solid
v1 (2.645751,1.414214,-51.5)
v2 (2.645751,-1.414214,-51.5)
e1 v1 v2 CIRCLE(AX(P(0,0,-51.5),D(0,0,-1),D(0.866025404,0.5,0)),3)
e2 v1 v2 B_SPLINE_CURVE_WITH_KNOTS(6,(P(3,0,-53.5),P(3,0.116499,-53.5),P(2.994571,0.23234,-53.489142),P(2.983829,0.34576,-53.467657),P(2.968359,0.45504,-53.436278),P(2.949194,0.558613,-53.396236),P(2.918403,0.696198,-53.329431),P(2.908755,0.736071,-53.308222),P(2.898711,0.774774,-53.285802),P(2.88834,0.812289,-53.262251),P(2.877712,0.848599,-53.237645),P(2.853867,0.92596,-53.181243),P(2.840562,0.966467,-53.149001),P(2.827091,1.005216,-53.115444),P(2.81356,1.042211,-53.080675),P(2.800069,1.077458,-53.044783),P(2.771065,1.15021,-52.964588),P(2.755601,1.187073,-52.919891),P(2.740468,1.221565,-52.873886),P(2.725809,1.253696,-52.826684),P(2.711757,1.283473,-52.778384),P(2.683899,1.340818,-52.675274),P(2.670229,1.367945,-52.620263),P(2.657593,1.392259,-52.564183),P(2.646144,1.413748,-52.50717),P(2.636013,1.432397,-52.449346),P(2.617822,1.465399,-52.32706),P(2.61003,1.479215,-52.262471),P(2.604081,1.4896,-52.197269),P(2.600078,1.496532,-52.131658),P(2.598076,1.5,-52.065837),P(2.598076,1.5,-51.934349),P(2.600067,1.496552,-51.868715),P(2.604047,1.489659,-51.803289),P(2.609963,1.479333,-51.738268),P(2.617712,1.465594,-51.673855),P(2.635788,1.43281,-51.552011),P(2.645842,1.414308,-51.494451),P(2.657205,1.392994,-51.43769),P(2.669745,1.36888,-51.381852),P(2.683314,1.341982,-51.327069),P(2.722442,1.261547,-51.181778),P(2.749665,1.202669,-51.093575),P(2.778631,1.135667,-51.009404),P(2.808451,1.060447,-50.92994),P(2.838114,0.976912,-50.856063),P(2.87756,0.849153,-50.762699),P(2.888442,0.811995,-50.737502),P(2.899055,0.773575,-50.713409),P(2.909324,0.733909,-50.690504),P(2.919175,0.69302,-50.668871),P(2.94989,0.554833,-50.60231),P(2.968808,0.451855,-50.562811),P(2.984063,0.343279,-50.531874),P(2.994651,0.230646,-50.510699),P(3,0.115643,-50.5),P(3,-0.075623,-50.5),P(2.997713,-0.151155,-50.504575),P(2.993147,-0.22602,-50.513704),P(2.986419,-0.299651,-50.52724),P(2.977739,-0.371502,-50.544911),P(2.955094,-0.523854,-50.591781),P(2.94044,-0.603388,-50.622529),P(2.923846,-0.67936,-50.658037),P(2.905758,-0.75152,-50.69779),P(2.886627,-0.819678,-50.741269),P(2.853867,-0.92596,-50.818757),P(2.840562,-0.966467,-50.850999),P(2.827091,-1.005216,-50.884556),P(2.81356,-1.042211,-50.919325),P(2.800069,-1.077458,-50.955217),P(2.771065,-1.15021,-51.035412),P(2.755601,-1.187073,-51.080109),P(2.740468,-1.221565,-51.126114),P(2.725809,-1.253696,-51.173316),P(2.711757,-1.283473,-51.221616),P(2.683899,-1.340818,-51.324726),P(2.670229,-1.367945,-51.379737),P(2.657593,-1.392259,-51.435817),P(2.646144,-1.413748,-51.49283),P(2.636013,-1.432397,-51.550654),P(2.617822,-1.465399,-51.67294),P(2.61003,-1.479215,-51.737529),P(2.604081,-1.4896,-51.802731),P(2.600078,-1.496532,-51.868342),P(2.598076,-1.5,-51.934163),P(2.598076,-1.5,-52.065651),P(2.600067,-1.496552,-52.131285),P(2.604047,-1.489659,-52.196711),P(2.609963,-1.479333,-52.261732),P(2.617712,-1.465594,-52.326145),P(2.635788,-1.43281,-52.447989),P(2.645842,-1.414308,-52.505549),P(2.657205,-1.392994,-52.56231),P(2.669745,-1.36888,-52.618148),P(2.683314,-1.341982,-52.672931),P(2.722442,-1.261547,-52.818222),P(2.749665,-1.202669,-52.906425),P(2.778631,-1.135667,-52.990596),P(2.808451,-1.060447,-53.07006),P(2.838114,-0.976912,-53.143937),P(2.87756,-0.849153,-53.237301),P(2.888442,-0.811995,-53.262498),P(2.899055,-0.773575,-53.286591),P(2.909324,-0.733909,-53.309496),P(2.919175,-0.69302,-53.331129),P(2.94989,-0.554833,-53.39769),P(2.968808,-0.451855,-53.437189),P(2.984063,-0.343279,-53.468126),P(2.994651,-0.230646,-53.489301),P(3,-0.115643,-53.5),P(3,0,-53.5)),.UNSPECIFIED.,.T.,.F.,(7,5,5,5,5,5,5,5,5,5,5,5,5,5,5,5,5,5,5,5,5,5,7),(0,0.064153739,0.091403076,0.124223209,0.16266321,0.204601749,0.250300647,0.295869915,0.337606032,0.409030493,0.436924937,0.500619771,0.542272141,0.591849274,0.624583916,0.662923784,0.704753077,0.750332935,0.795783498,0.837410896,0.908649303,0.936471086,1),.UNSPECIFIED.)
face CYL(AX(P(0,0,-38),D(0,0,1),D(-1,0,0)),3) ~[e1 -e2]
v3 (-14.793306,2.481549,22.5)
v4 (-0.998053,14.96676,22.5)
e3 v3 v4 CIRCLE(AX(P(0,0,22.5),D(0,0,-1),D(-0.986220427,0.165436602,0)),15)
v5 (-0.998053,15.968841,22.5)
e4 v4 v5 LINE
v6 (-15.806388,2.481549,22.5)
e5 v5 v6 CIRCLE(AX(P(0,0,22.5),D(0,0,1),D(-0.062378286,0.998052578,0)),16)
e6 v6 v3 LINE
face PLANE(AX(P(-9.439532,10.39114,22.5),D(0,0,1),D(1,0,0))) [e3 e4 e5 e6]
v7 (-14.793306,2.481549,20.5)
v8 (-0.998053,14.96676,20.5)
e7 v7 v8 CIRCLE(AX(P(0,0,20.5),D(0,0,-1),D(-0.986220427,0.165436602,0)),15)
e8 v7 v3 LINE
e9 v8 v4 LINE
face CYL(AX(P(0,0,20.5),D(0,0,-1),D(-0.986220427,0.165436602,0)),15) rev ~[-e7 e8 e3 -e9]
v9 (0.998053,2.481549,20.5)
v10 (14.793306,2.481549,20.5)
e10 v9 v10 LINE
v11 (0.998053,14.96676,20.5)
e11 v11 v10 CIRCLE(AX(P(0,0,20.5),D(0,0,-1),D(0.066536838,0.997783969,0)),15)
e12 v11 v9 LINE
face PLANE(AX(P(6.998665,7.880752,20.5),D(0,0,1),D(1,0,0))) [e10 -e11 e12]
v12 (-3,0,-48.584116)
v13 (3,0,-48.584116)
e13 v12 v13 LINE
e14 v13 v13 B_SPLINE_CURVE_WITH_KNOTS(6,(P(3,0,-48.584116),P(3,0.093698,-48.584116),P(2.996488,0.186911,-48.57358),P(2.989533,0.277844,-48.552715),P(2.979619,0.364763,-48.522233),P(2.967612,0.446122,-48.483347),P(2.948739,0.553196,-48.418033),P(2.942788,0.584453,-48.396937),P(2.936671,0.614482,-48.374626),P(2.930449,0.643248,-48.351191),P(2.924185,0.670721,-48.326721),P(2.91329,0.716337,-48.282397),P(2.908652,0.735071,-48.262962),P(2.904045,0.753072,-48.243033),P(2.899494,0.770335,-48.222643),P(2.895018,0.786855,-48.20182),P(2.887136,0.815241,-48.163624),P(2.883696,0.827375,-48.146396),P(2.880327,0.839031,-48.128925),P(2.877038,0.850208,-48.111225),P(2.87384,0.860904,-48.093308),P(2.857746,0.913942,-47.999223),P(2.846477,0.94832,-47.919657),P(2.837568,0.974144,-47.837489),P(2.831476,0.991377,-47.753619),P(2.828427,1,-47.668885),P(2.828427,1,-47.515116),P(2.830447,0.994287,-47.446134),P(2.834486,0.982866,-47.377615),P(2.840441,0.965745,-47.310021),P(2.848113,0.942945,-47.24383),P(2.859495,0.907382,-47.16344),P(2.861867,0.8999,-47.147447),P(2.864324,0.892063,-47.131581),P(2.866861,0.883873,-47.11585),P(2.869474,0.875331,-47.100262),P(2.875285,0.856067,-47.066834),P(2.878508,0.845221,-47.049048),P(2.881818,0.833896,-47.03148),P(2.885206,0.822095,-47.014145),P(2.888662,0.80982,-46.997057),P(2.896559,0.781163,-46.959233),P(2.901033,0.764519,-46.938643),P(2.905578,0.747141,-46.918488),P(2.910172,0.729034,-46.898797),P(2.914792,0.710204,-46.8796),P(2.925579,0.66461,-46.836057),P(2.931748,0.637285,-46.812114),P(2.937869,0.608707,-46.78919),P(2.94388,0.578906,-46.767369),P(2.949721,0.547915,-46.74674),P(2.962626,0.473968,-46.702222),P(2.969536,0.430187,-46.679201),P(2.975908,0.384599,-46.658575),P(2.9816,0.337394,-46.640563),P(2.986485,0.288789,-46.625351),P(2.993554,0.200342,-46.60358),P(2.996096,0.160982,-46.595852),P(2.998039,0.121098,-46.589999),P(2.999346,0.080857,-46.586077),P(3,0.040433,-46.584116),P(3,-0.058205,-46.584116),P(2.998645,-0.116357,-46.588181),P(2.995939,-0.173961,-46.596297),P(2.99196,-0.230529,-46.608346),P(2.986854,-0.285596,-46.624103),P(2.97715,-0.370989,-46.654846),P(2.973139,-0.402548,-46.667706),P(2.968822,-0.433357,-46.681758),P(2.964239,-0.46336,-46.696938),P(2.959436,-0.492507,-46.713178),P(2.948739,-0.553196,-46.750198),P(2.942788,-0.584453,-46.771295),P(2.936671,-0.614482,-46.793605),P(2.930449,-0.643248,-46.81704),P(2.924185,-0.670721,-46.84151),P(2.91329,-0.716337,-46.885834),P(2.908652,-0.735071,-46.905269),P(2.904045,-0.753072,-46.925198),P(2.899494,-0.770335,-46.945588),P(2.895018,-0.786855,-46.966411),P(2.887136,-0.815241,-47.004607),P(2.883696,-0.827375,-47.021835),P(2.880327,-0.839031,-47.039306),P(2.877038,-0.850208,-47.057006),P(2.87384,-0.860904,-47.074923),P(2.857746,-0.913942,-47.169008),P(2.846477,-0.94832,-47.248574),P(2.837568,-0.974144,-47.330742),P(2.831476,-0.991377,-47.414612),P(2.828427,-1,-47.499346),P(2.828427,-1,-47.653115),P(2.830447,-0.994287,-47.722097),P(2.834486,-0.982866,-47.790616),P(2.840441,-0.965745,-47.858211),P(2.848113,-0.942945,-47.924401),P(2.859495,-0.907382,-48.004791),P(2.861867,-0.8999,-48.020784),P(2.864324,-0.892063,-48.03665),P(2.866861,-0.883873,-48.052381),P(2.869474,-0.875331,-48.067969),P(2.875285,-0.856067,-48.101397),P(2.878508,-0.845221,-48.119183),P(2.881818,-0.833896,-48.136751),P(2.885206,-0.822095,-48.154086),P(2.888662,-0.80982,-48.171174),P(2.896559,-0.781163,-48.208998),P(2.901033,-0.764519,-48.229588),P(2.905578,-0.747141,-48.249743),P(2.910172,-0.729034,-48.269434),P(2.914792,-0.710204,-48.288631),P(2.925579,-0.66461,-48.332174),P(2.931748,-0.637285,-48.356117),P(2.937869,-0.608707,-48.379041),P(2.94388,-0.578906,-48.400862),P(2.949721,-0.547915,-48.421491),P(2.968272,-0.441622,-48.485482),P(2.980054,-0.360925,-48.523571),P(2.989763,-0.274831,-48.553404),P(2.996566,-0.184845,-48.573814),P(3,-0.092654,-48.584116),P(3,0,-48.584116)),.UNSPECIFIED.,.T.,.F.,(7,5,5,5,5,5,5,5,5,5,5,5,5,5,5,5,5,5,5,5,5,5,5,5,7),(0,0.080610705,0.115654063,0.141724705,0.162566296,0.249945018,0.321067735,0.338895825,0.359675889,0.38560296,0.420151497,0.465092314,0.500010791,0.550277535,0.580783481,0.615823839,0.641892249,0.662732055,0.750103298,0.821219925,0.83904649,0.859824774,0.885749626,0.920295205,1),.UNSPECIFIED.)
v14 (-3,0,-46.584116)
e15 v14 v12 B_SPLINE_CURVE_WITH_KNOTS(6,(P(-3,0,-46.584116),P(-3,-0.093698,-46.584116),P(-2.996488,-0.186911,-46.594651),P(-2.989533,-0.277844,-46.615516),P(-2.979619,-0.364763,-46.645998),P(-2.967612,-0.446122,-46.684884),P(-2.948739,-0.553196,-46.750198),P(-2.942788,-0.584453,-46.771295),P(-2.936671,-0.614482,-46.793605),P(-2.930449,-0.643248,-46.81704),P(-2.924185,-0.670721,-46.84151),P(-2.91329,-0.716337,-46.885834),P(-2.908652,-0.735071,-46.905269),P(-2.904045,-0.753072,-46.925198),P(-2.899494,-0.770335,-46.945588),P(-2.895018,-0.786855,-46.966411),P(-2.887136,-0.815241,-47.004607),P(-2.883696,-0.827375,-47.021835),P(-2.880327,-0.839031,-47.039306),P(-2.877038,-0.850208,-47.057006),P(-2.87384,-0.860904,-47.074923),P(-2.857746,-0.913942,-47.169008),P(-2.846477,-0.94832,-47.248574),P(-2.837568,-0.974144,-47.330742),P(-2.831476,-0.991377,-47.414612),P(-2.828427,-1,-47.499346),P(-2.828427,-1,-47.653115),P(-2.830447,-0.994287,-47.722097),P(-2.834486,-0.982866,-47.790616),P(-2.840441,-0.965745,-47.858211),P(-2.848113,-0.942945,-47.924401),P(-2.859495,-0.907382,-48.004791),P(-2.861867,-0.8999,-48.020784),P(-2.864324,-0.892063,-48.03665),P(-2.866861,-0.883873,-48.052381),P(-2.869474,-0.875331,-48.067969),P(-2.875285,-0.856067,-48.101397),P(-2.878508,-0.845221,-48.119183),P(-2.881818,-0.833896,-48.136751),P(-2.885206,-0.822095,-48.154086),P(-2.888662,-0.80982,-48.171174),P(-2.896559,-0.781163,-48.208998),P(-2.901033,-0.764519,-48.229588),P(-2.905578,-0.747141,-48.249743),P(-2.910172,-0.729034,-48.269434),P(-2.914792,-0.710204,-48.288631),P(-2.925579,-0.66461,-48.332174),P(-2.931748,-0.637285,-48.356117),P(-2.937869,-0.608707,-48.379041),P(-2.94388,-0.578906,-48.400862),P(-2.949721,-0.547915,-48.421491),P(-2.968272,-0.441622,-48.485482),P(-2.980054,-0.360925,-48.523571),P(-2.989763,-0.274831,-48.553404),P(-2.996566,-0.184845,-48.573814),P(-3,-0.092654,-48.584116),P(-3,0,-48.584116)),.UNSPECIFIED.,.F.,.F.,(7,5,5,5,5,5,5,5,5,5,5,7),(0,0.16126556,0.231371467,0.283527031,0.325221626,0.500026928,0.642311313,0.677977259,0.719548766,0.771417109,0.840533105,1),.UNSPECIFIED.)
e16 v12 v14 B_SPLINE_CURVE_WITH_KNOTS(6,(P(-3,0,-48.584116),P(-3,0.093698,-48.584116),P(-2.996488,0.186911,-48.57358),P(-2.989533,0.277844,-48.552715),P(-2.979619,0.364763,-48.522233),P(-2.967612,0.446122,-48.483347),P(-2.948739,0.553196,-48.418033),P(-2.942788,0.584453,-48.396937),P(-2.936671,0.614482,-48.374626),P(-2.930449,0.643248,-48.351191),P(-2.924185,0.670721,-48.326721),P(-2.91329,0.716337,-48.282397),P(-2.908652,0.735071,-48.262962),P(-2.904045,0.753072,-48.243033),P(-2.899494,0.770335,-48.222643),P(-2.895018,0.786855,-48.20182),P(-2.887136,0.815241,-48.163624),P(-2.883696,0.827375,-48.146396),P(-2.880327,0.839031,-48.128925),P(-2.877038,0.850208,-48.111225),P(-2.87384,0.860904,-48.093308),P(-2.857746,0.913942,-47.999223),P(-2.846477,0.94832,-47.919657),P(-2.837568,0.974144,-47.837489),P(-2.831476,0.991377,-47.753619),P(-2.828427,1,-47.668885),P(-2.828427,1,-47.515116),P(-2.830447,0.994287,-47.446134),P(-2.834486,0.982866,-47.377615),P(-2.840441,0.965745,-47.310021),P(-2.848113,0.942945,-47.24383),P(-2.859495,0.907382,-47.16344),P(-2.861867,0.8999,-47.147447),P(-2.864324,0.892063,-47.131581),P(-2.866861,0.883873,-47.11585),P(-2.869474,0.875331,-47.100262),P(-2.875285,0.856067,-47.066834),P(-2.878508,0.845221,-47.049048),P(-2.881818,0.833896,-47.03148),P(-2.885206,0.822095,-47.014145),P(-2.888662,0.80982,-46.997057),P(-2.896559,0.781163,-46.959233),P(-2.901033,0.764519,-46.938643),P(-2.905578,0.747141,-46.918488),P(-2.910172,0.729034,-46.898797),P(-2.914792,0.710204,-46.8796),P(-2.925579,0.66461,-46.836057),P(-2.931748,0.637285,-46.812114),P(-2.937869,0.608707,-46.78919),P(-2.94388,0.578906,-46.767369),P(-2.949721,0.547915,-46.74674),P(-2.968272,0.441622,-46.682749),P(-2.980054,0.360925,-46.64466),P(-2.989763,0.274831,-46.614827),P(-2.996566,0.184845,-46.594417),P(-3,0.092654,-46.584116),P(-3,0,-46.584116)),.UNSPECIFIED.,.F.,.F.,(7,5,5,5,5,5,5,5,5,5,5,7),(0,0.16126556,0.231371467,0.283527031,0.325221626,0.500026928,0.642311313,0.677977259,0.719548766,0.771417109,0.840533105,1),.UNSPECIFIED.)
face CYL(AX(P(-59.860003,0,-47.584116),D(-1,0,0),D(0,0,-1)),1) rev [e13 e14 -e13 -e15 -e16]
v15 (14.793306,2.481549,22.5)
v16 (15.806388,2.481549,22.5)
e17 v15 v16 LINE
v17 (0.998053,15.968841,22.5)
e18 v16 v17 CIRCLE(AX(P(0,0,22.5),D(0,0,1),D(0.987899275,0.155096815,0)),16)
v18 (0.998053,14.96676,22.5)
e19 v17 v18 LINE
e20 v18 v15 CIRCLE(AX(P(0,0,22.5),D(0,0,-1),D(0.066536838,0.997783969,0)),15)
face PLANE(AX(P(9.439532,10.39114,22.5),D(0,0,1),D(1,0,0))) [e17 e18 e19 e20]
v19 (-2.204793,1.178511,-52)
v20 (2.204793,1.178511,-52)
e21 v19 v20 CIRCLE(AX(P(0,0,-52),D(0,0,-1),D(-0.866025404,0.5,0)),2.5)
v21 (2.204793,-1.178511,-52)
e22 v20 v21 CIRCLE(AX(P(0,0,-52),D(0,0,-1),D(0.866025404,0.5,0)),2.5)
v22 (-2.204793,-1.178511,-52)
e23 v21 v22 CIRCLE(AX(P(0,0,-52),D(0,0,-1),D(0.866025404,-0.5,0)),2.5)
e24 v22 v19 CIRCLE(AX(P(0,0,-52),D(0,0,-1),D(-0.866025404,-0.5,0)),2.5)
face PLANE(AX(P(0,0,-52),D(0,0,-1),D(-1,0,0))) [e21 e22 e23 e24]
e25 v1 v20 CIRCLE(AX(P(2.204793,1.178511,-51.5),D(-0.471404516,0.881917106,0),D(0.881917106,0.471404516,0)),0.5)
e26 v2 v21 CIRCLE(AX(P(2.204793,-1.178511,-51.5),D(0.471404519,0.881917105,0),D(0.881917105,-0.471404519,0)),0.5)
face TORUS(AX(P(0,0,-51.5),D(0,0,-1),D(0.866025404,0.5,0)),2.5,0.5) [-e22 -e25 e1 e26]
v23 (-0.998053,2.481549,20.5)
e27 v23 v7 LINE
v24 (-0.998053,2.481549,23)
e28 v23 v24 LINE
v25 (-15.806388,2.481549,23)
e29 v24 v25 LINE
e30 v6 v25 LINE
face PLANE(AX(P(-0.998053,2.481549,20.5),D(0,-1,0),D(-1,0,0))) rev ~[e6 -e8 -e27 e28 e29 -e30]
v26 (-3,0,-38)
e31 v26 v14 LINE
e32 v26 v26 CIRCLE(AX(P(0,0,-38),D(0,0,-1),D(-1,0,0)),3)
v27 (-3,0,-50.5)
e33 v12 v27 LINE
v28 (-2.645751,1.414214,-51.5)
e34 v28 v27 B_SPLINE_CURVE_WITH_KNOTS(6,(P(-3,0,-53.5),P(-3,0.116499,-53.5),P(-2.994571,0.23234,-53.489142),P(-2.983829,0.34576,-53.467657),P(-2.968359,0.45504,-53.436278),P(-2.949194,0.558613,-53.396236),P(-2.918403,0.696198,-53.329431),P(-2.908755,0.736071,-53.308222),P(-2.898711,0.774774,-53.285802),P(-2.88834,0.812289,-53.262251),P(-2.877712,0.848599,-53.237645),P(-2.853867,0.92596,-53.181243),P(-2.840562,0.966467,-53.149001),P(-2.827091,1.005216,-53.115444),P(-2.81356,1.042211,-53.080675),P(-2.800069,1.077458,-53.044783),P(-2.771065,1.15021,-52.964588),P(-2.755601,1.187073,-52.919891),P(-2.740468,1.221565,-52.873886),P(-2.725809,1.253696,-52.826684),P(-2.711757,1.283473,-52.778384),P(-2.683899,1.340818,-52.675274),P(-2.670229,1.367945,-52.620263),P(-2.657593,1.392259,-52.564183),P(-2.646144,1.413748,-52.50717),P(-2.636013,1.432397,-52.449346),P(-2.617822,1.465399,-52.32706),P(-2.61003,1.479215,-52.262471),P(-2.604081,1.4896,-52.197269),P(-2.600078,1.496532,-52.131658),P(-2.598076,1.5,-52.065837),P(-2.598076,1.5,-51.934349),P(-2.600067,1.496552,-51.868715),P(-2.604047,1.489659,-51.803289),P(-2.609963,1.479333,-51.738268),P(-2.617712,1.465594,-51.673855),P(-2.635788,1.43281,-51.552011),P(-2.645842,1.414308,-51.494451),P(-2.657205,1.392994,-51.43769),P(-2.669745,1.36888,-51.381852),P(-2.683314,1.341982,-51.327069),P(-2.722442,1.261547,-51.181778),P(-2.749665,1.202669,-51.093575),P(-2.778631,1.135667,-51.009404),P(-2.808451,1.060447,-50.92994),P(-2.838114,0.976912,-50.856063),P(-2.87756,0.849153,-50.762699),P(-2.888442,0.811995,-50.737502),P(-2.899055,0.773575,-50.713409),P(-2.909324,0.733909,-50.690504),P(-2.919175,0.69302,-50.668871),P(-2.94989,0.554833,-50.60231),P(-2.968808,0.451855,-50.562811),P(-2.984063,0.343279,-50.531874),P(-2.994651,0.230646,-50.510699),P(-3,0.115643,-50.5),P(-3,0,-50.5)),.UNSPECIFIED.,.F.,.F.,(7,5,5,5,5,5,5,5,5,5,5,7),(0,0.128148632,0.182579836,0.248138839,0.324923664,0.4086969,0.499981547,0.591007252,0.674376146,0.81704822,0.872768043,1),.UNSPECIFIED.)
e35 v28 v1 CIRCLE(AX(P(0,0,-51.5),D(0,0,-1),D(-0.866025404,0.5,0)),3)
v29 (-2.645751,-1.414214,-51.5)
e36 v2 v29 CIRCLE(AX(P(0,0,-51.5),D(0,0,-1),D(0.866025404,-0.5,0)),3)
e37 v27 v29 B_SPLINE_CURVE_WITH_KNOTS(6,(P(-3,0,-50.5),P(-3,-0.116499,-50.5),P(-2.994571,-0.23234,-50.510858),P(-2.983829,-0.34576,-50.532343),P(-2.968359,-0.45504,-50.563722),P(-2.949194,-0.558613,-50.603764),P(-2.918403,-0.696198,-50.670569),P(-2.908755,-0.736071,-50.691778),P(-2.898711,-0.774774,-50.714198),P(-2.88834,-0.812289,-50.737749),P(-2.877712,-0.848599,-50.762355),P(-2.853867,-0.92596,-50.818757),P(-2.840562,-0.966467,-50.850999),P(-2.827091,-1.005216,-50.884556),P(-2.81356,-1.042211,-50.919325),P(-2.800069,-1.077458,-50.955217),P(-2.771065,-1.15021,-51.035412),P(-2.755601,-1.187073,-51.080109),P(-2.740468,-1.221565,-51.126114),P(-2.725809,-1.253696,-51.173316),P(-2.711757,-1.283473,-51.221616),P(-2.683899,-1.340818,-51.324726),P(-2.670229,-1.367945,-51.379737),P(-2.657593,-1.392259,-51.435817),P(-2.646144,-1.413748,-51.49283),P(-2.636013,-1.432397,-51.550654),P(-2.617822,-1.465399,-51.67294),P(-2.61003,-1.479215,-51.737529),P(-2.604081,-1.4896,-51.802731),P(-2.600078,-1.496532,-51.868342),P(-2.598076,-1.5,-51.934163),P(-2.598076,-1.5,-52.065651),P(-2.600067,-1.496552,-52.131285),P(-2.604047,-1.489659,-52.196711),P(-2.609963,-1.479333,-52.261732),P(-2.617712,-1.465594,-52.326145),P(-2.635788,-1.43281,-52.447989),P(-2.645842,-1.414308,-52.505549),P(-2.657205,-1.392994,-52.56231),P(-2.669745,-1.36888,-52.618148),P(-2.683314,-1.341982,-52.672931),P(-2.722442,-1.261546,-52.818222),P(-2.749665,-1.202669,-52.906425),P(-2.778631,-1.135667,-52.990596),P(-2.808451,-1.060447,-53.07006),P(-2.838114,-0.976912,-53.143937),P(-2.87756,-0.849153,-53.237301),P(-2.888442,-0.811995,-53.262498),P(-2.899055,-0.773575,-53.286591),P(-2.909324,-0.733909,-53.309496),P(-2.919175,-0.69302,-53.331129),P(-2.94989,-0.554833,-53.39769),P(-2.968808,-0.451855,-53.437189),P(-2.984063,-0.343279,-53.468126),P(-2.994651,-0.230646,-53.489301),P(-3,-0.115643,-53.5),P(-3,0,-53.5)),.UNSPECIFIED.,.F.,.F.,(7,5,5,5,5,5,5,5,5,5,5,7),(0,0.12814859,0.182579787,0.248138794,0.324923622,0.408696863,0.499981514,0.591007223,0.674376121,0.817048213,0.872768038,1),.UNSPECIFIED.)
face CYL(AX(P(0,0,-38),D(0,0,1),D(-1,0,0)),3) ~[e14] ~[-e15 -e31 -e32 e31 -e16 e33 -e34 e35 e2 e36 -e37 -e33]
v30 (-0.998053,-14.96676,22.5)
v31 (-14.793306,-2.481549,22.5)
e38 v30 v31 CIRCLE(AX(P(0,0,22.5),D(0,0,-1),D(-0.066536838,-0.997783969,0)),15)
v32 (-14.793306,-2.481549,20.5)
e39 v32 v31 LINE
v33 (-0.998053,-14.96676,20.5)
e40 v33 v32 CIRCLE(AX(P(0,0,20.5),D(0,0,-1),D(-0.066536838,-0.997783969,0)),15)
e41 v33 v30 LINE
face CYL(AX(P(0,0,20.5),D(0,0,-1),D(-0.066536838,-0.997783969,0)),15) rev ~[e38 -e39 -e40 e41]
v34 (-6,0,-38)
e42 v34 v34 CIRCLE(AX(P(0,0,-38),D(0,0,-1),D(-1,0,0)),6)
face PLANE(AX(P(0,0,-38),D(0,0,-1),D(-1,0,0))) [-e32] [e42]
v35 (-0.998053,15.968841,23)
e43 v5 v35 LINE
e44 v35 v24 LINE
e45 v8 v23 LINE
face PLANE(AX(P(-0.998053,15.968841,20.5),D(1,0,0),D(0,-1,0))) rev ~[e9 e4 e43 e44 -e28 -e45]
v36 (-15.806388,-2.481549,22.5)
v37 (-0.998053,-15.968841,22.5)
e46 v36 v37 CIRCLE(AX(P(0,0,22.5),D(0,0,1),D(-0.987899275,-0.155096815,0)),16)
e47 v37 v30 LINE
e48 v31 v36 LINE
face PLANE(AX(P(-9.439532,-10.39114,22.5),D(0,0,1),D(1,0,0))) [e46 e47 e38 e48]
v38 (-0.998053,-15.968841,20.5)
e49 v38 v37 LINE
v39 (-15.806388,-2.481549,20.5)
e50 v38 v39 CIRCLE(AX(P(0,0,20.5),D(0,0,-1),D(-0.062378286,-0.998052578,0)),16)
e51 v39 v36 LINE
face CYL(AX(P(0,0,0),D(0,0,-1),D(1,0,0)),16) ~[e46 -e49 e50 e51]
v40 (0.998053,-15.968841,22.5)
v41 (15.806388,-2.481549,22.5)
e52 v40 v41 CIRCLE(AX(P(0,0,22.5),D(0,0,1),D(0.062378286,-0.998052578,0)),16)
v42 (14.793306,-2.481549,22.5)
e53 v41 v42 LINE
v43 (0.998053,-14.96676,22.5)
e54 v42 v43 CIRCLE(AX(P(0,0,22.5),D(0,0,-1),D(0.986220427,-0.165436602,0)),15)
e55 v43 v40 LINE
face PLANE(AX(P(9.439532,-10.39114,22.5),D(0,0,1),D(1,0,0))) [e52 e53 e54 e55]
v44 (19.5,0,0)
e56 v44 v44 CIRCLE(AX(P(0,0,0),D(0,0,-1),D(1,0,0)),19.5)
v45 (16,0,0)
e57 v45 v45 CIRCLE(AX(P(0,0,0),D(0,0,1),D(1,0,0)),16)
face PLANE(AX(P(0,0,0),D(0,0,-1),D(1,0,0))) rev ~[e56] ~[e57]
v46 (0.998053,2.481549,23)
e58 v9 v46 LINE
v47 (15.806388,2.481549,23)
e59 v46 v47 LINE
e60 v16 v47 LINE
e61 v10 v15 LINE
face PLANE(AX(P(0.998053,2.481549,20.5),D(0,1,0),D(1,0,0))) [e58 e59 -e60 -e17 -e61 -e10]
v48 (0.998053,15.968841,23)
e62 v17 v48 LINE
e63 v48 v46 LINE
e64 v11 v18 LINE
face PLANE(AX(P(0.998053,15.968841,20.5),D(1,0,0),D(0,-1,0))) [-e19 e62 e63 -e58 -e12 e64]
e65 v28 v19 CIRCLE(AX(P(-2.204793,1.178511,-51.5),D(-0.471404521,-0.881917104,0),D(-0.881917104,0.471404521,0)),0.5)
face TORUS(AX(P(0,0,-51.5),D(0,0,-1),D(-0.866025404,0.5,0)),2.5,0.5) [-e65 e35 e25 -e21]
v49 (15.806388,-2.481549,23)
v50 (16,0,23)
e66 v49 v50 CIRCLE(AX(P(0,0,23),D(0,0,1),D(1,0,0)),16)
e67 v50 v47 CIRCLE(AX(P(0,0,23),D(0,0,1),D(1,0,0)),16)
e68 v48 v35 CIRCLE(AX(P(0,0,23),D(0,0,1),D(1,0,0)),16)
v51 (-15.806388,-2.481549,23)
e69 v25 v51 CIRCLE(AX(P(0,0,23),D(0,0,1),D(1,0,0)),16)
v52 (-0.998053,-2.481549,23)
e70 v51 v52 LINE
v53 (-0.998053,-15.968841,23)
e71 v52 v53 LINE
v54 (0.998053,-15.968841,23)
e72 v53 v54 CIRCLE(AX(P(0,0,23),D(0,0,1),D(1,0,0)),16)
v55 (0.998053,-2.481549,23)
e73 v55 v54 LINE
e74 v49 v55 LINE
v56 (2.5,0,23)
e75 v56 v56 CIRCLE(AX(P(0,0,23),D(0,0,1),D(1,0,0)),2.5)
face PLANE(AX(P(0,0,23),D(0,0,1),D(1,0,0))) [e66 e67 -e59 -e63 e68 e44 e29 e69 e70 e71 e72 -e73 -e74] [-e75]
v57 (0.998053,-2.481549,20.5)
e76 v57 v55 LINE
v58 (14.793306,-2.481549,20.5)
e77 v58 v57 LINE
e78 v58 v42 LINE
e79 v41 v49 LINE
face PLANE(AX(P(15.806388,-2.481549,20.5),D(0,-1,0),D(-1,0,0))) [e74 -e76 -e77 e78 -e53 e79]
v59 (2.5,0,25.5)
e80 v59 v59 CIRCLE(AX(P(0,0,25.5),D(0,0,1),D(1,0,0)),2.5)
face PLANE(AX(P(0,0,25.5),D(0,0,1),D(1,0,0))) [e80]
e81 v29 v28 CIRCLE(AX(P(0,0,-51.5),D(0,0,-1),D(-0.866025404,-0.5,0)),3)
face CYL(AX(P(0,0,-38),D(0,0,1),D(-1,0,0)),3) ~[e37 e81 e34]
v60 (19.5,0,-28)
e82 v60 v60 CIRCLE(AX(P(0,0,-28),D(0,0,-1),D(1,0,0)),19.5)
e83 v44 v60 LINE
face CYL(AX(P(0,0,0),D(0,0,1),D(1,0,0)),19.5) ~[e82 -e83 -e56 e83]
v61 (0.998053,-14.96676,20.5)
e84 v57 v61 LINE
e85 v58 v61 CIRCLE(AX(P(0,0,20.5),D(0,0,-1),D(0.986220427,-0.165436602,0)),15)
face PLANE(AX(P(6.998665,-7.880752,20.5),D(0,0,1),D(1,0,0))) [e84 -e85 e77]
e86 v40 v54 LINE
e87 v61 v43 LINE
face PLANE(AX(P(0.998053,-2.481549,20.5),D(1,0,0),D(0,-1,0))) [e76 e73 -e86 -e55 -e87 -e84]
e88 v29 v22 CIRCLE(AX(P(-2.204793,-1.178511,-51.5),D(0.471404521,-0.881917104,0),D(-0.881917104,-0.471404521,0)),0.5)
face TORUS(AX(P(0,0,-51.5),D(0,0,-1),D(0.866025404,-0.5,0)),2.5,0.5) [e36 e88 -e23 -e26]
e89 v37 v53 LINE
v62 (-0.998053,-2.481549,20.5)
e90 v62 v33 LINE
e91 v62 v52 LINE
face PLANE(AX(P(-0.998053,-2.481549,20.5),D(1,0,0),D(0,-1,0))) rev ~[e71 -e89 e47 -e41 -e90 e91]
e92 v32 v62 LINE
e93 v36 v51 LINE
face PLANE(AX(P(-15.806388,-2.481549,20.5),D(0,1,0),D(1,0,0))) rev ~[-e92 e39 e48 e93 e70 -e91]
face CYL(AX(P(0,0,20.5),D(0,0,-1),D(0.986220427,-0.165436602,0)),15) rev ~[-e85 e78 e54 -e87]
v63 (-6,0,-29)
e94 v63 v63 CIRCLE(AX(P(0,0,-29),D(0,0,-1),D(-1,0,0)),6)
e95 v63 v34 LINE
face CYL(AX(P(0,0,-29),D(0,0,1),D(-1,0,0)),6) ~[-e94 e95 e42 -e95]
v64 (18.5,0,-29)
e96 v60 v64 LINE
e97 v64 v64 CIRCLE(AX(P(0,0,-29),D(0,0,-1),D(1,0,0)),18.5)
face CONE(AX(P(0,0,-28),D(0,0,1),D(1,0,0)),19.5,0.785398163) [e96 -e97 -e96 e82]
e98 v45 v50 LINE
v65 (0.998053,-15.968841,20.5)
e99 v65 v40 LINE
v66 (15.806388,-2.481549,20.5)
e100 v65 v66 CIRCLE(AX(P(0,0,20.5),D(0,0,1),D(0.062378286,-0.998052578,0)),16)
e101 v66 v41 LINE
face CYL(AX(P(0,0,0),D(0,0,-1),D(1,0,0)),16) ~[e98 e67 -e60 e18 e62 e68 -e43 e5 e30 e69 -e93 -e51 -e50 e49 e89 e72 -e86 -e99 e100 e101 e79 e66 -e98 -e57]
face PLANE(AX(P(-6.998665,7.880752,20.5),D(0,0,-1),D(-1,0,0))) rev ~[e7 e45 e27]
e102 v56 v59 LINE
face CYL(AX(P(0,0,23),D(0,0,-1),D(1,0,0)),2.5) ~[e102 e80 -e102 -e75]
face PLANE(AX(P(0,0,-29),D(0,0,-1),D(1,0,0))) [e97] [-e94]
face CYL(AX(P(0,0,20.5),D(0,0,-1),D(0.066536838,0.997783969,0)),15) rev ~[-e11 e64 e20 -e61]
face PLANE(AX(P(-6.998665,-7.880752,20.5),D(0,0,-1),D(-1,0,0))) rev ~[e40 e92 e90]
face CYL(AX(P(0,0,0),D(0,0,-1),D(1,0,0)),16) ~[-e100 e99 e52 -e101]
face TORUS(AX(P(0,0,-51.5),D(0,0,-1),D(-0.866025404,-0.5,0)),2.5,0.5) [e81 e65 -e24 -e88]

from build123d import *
from build123d.topology import SkipClean

# Parameters (mm, degrees)
SKETCH1_R               = 16
BOSS_EXTRUDE1_DEPTH     = 23
SKETCH2_R               = 19.5
BOSS_EXTRUDE2_DEPTH     = 29
SKETCH3_R               = 6
BOSS_EXTRUDE4_DEPTH     = 9
SKETCH4_R               = 3
BOSS_EXTRUDE5_DEPTH     = 22
CUT_EXTRUDE2_DEPTH      = 22
CUT_EXTRUDE2_DEPTH_BACK = 22
SKETCH5_R               = 1.5
CUT_EXTRUDE4_START      = -2.5
CUT_EXTRUDE4_DEPTH      = 2.5
SKETCH7_R               = 2.5
BOSS_EXTRUDE6_DEPTH     = 2.5
BOSS_EXTRUDE7_DEPTH     = 2
CHAMFER1_SIZE           = 1
FILLET1_R               = 1
BOSS_EXTRUDE8_START     = -22
SKETCH9_R               = 3
BOSS_EXTRUDE8_DEPTH     = 22
CUT_EXTRUDE6_START      = -8
SKETCH10_R              = 3
CUT_EXTRUDE6_DEPTH      = 8
FILLET2_R               = 0.5
CUT_EXTRUDE7_DEPTH      = 59.860003398
CUT_EXTRUDE7_DEPTH_BACK = 59.860003398
SKETCH11_R              = 1


with BuildPart() as part:
    # Sketch1 → Boss-Extrude1 (new body)
    with BuildSketch(Plane.XY):
        Circle(SKETCH1_R)
    extrude(amount=BOSS_EXTRUDE1_DEPTH)

    # Sketch2 → Boss-Extrude2 (add)
    with BuildSketch(Plane(origin=(0, 0, 0), x_dir=(-1, 0, 0), z_dir=(0, 0, -1))):
        Circle(SKETCH2_R)
    extrude(amount=BOSS_EXTRUDE2_DEPTH)

    # Sketch3 → Boss-Extrude4 (add)
    with BuildSketch(Plane(origin=(0, 0, -29), x_dir=(-1, 0, 0), z_dir=(0, 0, -1))):
        Circle(SKETCH3_R)
    extrude(amount=BOSS_EXTRUDE4_DEPTH)

    # Sketch4 → Boss-Extrude5 (add)
    with BuildSketch(Plane(origin=(0, 0, -38), x_dir=(-1, 0, 0), z_dir=(0, 0, -1))):
        Circle(SKETCH4_R)
    extrude(amount=BOSS_EXTRUDE5_DEPTH)

    # Sketch5 → Cut-Extrude2 (cut, two sides: drawn at the far end of the back side and taken through both)
    with BuildSketch(Plane(origin=(0, 0, 0), x_dir=(0, 0, -1), z_dir=(1, 0, 0)).offset(-CUT_EXTRUDE2_DEPTH_BACK)):
        with Locations((52, 0)):
            Circle(SKETCH5_R)
    extrude(amount=CUT_EXTRUDE2_DEPTH + CUT_EXTRUDE2_DEPTH_BACK, mode=Mode.SUBTRACT)

    # Sketch6 → Cut-Extrude4 (cut)
    with BuildSketch(Plane.XY.offset(23).offset(CUT_EXTRUDE4_START)):
        with BuildLine():
            Line((0.998052578, -2.481549033), (0.998052578, -15.968841256))
            ThreePointArc((0.998052578, -15.968841256), (10.773767775, -11.829029036), (15.806388405, -2.481549033))
            Line((15.806388405, -2.481549033), (0.998052578, -2.481549033))
        make_face()
        with BuildLine():
            Line((-0.998052578, 15.968841256), (-0.998052578, 2.481549033))
            Line((-0.998052578, 2.481549033), (-15.806388405, 2.481549033))
            ThreePointArc((-15.806388405, 2.481549033), (-10.773767775, 11.829029036), (-0.998052578, 15.968841256))
        make_face()
        with BuildLine():
            Line((0.998052578, 15.968841256), (0.998052578, 2.481549033))
            Line((0.998052578, 2.481549033), (15.806388405, 2.481549033))
            ThreePointArc((15.806388405, 2.481549033), (10.773767775, 11.829029036), (0.998052578, 15.968841256))
        make_face()
        with BuildLine():
            Line((-15.806388405, -2.481549033), (-0.998052578, -2.481549033))
            Line((-0.998052578, -2.481549033), (-0.998052578, -15.968841256))
            ThreePointArc((-0.998052578, -15.968841256), (-10.773767775, -11.829029036), (-15.806388405, -2.481549033))
        make_face()
    extrude(amount=CUT_EXTRUDE4_DEPTH, mode=Mode.SUBTRACT)

    # Sketch7 → Boss-Extrude6 (add)
    with BuildSketch(Plane.XY.offset(23)):
        Circle(SKETCH7_R)
    extrude(amount=BOSS_EXTRUDE6_DEPTH)

    # Sketch8 → Boss-Extrude7 (add)
    with BuildSketch(Plane.XY.offset(20.5)):
        with BuildLine():
            Line((-15.806388405, 2.481549033), (-14.793306405, 2.481549033))
            ThreePointArc((-14.793306405, 2.481549033), (-10.065380021, 11.12151631), (-0.998052578, 14.966759537))
            Line((-0.998052578, 14.966759537), (-0.998052578, 15.968841256))
            ThreePointArc((-0.998052578, 15.968841256), (-10.773767775, 11.829029036), (-15.806388405, 2.481549033))
        make_face()
        with BuildLine():
            Line((0.998052578, 15.968841256), (0.998052578, 14.966759537))
            ThreePointArc((0.998052578, 14.966759537), (10.065380021, 11.12151631), (14.793306405, 2.481549033))
            Line((14.793306405, 2.481549033), (15.806388405, 2.481549033))
            ThreePointArc((15.806388405, 2.481549033), (10.773767775, 11.829029036), (0.998052578, 15.968841256))
        make_face()
        with BuildLine():
            Line((15.806388405, -2.481549033), (14.793306405, -2.481549033))
            ThreePointArc((14.793306405, -2.481549033), (10.065380021, -11.12151631), (0.998052578, -14.966759537))
            Line((0.998052578, -14.966759537), (0.998052578, -15.968841256))
            ThreePointArc((0.998052578, -15.968841256), (10.773767775, -11.829029036), (15.806388405, -2.481549033))
        make_face()
        with BuildLine():
            Line((-0.998052578, -15.968841256), (-0.998052578, -14.966759537))
            ThreePointArc((-0.998052578, -14.966759537), (-10.065380021, -11.12151631), (-14.793306405, -2.481549033))
            Line((-14.793306405, -2.481549033), (-15.806388405, -2.481549033))
            ThreePointArc((-15.806388405, -2.481549033), (-10.773767775, -11.829029036), (-0.998052578, -15.968841256))
        make_face()
    extrude(amount=BOSS_EXTRUDE7_DEPTH)

    # Chamfer1
    chamfer1_edges = [part.edges().sort_by_distance(p)[0] for p in [
        (19.5, 0, -29),
    ]]
    chamfer(chamfer1_edges, length=CHAMFER1_SIZE)

    # Fillet1
    fillet1_edges = [part.edges().sort_by_distance(p)[0] for p in [
        (3, 0, -60),
    ]]
    fillet(fillet1_edges, radius=FILLET1_R)

    # Sketch9 → Boss-Extrude8 (add)
    with SkipClean():  # the faces are left unmerged after this step: merging them gives an invalid solid
        with BuildSketch(Plane(origin=(0, 0, -60), x_dir=(-1, 0, 0), z_dir=(0, 0, -1)).offset(BOSS_EXTRUDE8_START)):
            Circle(SKETCH9_R)
        extrude(amount=BOSS_EXTRUDE8_DEPTH)

    # Sketch10 → Cut-Extrude6 (cut)
    with BuildSketch(Plane(origin=(0, 0, -60), x_dir=(-1, 0, 0), z_dir=(0, 0, -1)).offset(CUT_EXTRUDE6_START)):
        Circle(SKETCH10_R)
    extrude(amount=CUT_EXTRUDE6_DEPTH, mode=Mode.SUBTRACT)

    # Fillet2
    fillet2_edges = [part.edges().sort_by_distance(p)[0] for p in [
        (3, 0, -52),
    ]]
    fillet(fillet2_edges, radius=FILLET2_R)

    # Sketch11 → Cut-Extrude7 (cut, two sides: drawn at the far end of the back side and taken through both)
    with BuildSketch(Plane(origin=(0, 0, 0), x_dir=(0, 0, -1), z_dir=(1, 0, 0)).offset(-CUT_EXTRUDE7_DEPTH_BACK)):
        with Locations((47.584115537, 0)):
            Circle(SKETCH11_R)
    extrude(amount=CUT_EXTRUDE7_DEPTH + CUT_EXTRUDE7_DEPTH_BACK, mode=Mode.SUBTRACT)


solid = part.part
